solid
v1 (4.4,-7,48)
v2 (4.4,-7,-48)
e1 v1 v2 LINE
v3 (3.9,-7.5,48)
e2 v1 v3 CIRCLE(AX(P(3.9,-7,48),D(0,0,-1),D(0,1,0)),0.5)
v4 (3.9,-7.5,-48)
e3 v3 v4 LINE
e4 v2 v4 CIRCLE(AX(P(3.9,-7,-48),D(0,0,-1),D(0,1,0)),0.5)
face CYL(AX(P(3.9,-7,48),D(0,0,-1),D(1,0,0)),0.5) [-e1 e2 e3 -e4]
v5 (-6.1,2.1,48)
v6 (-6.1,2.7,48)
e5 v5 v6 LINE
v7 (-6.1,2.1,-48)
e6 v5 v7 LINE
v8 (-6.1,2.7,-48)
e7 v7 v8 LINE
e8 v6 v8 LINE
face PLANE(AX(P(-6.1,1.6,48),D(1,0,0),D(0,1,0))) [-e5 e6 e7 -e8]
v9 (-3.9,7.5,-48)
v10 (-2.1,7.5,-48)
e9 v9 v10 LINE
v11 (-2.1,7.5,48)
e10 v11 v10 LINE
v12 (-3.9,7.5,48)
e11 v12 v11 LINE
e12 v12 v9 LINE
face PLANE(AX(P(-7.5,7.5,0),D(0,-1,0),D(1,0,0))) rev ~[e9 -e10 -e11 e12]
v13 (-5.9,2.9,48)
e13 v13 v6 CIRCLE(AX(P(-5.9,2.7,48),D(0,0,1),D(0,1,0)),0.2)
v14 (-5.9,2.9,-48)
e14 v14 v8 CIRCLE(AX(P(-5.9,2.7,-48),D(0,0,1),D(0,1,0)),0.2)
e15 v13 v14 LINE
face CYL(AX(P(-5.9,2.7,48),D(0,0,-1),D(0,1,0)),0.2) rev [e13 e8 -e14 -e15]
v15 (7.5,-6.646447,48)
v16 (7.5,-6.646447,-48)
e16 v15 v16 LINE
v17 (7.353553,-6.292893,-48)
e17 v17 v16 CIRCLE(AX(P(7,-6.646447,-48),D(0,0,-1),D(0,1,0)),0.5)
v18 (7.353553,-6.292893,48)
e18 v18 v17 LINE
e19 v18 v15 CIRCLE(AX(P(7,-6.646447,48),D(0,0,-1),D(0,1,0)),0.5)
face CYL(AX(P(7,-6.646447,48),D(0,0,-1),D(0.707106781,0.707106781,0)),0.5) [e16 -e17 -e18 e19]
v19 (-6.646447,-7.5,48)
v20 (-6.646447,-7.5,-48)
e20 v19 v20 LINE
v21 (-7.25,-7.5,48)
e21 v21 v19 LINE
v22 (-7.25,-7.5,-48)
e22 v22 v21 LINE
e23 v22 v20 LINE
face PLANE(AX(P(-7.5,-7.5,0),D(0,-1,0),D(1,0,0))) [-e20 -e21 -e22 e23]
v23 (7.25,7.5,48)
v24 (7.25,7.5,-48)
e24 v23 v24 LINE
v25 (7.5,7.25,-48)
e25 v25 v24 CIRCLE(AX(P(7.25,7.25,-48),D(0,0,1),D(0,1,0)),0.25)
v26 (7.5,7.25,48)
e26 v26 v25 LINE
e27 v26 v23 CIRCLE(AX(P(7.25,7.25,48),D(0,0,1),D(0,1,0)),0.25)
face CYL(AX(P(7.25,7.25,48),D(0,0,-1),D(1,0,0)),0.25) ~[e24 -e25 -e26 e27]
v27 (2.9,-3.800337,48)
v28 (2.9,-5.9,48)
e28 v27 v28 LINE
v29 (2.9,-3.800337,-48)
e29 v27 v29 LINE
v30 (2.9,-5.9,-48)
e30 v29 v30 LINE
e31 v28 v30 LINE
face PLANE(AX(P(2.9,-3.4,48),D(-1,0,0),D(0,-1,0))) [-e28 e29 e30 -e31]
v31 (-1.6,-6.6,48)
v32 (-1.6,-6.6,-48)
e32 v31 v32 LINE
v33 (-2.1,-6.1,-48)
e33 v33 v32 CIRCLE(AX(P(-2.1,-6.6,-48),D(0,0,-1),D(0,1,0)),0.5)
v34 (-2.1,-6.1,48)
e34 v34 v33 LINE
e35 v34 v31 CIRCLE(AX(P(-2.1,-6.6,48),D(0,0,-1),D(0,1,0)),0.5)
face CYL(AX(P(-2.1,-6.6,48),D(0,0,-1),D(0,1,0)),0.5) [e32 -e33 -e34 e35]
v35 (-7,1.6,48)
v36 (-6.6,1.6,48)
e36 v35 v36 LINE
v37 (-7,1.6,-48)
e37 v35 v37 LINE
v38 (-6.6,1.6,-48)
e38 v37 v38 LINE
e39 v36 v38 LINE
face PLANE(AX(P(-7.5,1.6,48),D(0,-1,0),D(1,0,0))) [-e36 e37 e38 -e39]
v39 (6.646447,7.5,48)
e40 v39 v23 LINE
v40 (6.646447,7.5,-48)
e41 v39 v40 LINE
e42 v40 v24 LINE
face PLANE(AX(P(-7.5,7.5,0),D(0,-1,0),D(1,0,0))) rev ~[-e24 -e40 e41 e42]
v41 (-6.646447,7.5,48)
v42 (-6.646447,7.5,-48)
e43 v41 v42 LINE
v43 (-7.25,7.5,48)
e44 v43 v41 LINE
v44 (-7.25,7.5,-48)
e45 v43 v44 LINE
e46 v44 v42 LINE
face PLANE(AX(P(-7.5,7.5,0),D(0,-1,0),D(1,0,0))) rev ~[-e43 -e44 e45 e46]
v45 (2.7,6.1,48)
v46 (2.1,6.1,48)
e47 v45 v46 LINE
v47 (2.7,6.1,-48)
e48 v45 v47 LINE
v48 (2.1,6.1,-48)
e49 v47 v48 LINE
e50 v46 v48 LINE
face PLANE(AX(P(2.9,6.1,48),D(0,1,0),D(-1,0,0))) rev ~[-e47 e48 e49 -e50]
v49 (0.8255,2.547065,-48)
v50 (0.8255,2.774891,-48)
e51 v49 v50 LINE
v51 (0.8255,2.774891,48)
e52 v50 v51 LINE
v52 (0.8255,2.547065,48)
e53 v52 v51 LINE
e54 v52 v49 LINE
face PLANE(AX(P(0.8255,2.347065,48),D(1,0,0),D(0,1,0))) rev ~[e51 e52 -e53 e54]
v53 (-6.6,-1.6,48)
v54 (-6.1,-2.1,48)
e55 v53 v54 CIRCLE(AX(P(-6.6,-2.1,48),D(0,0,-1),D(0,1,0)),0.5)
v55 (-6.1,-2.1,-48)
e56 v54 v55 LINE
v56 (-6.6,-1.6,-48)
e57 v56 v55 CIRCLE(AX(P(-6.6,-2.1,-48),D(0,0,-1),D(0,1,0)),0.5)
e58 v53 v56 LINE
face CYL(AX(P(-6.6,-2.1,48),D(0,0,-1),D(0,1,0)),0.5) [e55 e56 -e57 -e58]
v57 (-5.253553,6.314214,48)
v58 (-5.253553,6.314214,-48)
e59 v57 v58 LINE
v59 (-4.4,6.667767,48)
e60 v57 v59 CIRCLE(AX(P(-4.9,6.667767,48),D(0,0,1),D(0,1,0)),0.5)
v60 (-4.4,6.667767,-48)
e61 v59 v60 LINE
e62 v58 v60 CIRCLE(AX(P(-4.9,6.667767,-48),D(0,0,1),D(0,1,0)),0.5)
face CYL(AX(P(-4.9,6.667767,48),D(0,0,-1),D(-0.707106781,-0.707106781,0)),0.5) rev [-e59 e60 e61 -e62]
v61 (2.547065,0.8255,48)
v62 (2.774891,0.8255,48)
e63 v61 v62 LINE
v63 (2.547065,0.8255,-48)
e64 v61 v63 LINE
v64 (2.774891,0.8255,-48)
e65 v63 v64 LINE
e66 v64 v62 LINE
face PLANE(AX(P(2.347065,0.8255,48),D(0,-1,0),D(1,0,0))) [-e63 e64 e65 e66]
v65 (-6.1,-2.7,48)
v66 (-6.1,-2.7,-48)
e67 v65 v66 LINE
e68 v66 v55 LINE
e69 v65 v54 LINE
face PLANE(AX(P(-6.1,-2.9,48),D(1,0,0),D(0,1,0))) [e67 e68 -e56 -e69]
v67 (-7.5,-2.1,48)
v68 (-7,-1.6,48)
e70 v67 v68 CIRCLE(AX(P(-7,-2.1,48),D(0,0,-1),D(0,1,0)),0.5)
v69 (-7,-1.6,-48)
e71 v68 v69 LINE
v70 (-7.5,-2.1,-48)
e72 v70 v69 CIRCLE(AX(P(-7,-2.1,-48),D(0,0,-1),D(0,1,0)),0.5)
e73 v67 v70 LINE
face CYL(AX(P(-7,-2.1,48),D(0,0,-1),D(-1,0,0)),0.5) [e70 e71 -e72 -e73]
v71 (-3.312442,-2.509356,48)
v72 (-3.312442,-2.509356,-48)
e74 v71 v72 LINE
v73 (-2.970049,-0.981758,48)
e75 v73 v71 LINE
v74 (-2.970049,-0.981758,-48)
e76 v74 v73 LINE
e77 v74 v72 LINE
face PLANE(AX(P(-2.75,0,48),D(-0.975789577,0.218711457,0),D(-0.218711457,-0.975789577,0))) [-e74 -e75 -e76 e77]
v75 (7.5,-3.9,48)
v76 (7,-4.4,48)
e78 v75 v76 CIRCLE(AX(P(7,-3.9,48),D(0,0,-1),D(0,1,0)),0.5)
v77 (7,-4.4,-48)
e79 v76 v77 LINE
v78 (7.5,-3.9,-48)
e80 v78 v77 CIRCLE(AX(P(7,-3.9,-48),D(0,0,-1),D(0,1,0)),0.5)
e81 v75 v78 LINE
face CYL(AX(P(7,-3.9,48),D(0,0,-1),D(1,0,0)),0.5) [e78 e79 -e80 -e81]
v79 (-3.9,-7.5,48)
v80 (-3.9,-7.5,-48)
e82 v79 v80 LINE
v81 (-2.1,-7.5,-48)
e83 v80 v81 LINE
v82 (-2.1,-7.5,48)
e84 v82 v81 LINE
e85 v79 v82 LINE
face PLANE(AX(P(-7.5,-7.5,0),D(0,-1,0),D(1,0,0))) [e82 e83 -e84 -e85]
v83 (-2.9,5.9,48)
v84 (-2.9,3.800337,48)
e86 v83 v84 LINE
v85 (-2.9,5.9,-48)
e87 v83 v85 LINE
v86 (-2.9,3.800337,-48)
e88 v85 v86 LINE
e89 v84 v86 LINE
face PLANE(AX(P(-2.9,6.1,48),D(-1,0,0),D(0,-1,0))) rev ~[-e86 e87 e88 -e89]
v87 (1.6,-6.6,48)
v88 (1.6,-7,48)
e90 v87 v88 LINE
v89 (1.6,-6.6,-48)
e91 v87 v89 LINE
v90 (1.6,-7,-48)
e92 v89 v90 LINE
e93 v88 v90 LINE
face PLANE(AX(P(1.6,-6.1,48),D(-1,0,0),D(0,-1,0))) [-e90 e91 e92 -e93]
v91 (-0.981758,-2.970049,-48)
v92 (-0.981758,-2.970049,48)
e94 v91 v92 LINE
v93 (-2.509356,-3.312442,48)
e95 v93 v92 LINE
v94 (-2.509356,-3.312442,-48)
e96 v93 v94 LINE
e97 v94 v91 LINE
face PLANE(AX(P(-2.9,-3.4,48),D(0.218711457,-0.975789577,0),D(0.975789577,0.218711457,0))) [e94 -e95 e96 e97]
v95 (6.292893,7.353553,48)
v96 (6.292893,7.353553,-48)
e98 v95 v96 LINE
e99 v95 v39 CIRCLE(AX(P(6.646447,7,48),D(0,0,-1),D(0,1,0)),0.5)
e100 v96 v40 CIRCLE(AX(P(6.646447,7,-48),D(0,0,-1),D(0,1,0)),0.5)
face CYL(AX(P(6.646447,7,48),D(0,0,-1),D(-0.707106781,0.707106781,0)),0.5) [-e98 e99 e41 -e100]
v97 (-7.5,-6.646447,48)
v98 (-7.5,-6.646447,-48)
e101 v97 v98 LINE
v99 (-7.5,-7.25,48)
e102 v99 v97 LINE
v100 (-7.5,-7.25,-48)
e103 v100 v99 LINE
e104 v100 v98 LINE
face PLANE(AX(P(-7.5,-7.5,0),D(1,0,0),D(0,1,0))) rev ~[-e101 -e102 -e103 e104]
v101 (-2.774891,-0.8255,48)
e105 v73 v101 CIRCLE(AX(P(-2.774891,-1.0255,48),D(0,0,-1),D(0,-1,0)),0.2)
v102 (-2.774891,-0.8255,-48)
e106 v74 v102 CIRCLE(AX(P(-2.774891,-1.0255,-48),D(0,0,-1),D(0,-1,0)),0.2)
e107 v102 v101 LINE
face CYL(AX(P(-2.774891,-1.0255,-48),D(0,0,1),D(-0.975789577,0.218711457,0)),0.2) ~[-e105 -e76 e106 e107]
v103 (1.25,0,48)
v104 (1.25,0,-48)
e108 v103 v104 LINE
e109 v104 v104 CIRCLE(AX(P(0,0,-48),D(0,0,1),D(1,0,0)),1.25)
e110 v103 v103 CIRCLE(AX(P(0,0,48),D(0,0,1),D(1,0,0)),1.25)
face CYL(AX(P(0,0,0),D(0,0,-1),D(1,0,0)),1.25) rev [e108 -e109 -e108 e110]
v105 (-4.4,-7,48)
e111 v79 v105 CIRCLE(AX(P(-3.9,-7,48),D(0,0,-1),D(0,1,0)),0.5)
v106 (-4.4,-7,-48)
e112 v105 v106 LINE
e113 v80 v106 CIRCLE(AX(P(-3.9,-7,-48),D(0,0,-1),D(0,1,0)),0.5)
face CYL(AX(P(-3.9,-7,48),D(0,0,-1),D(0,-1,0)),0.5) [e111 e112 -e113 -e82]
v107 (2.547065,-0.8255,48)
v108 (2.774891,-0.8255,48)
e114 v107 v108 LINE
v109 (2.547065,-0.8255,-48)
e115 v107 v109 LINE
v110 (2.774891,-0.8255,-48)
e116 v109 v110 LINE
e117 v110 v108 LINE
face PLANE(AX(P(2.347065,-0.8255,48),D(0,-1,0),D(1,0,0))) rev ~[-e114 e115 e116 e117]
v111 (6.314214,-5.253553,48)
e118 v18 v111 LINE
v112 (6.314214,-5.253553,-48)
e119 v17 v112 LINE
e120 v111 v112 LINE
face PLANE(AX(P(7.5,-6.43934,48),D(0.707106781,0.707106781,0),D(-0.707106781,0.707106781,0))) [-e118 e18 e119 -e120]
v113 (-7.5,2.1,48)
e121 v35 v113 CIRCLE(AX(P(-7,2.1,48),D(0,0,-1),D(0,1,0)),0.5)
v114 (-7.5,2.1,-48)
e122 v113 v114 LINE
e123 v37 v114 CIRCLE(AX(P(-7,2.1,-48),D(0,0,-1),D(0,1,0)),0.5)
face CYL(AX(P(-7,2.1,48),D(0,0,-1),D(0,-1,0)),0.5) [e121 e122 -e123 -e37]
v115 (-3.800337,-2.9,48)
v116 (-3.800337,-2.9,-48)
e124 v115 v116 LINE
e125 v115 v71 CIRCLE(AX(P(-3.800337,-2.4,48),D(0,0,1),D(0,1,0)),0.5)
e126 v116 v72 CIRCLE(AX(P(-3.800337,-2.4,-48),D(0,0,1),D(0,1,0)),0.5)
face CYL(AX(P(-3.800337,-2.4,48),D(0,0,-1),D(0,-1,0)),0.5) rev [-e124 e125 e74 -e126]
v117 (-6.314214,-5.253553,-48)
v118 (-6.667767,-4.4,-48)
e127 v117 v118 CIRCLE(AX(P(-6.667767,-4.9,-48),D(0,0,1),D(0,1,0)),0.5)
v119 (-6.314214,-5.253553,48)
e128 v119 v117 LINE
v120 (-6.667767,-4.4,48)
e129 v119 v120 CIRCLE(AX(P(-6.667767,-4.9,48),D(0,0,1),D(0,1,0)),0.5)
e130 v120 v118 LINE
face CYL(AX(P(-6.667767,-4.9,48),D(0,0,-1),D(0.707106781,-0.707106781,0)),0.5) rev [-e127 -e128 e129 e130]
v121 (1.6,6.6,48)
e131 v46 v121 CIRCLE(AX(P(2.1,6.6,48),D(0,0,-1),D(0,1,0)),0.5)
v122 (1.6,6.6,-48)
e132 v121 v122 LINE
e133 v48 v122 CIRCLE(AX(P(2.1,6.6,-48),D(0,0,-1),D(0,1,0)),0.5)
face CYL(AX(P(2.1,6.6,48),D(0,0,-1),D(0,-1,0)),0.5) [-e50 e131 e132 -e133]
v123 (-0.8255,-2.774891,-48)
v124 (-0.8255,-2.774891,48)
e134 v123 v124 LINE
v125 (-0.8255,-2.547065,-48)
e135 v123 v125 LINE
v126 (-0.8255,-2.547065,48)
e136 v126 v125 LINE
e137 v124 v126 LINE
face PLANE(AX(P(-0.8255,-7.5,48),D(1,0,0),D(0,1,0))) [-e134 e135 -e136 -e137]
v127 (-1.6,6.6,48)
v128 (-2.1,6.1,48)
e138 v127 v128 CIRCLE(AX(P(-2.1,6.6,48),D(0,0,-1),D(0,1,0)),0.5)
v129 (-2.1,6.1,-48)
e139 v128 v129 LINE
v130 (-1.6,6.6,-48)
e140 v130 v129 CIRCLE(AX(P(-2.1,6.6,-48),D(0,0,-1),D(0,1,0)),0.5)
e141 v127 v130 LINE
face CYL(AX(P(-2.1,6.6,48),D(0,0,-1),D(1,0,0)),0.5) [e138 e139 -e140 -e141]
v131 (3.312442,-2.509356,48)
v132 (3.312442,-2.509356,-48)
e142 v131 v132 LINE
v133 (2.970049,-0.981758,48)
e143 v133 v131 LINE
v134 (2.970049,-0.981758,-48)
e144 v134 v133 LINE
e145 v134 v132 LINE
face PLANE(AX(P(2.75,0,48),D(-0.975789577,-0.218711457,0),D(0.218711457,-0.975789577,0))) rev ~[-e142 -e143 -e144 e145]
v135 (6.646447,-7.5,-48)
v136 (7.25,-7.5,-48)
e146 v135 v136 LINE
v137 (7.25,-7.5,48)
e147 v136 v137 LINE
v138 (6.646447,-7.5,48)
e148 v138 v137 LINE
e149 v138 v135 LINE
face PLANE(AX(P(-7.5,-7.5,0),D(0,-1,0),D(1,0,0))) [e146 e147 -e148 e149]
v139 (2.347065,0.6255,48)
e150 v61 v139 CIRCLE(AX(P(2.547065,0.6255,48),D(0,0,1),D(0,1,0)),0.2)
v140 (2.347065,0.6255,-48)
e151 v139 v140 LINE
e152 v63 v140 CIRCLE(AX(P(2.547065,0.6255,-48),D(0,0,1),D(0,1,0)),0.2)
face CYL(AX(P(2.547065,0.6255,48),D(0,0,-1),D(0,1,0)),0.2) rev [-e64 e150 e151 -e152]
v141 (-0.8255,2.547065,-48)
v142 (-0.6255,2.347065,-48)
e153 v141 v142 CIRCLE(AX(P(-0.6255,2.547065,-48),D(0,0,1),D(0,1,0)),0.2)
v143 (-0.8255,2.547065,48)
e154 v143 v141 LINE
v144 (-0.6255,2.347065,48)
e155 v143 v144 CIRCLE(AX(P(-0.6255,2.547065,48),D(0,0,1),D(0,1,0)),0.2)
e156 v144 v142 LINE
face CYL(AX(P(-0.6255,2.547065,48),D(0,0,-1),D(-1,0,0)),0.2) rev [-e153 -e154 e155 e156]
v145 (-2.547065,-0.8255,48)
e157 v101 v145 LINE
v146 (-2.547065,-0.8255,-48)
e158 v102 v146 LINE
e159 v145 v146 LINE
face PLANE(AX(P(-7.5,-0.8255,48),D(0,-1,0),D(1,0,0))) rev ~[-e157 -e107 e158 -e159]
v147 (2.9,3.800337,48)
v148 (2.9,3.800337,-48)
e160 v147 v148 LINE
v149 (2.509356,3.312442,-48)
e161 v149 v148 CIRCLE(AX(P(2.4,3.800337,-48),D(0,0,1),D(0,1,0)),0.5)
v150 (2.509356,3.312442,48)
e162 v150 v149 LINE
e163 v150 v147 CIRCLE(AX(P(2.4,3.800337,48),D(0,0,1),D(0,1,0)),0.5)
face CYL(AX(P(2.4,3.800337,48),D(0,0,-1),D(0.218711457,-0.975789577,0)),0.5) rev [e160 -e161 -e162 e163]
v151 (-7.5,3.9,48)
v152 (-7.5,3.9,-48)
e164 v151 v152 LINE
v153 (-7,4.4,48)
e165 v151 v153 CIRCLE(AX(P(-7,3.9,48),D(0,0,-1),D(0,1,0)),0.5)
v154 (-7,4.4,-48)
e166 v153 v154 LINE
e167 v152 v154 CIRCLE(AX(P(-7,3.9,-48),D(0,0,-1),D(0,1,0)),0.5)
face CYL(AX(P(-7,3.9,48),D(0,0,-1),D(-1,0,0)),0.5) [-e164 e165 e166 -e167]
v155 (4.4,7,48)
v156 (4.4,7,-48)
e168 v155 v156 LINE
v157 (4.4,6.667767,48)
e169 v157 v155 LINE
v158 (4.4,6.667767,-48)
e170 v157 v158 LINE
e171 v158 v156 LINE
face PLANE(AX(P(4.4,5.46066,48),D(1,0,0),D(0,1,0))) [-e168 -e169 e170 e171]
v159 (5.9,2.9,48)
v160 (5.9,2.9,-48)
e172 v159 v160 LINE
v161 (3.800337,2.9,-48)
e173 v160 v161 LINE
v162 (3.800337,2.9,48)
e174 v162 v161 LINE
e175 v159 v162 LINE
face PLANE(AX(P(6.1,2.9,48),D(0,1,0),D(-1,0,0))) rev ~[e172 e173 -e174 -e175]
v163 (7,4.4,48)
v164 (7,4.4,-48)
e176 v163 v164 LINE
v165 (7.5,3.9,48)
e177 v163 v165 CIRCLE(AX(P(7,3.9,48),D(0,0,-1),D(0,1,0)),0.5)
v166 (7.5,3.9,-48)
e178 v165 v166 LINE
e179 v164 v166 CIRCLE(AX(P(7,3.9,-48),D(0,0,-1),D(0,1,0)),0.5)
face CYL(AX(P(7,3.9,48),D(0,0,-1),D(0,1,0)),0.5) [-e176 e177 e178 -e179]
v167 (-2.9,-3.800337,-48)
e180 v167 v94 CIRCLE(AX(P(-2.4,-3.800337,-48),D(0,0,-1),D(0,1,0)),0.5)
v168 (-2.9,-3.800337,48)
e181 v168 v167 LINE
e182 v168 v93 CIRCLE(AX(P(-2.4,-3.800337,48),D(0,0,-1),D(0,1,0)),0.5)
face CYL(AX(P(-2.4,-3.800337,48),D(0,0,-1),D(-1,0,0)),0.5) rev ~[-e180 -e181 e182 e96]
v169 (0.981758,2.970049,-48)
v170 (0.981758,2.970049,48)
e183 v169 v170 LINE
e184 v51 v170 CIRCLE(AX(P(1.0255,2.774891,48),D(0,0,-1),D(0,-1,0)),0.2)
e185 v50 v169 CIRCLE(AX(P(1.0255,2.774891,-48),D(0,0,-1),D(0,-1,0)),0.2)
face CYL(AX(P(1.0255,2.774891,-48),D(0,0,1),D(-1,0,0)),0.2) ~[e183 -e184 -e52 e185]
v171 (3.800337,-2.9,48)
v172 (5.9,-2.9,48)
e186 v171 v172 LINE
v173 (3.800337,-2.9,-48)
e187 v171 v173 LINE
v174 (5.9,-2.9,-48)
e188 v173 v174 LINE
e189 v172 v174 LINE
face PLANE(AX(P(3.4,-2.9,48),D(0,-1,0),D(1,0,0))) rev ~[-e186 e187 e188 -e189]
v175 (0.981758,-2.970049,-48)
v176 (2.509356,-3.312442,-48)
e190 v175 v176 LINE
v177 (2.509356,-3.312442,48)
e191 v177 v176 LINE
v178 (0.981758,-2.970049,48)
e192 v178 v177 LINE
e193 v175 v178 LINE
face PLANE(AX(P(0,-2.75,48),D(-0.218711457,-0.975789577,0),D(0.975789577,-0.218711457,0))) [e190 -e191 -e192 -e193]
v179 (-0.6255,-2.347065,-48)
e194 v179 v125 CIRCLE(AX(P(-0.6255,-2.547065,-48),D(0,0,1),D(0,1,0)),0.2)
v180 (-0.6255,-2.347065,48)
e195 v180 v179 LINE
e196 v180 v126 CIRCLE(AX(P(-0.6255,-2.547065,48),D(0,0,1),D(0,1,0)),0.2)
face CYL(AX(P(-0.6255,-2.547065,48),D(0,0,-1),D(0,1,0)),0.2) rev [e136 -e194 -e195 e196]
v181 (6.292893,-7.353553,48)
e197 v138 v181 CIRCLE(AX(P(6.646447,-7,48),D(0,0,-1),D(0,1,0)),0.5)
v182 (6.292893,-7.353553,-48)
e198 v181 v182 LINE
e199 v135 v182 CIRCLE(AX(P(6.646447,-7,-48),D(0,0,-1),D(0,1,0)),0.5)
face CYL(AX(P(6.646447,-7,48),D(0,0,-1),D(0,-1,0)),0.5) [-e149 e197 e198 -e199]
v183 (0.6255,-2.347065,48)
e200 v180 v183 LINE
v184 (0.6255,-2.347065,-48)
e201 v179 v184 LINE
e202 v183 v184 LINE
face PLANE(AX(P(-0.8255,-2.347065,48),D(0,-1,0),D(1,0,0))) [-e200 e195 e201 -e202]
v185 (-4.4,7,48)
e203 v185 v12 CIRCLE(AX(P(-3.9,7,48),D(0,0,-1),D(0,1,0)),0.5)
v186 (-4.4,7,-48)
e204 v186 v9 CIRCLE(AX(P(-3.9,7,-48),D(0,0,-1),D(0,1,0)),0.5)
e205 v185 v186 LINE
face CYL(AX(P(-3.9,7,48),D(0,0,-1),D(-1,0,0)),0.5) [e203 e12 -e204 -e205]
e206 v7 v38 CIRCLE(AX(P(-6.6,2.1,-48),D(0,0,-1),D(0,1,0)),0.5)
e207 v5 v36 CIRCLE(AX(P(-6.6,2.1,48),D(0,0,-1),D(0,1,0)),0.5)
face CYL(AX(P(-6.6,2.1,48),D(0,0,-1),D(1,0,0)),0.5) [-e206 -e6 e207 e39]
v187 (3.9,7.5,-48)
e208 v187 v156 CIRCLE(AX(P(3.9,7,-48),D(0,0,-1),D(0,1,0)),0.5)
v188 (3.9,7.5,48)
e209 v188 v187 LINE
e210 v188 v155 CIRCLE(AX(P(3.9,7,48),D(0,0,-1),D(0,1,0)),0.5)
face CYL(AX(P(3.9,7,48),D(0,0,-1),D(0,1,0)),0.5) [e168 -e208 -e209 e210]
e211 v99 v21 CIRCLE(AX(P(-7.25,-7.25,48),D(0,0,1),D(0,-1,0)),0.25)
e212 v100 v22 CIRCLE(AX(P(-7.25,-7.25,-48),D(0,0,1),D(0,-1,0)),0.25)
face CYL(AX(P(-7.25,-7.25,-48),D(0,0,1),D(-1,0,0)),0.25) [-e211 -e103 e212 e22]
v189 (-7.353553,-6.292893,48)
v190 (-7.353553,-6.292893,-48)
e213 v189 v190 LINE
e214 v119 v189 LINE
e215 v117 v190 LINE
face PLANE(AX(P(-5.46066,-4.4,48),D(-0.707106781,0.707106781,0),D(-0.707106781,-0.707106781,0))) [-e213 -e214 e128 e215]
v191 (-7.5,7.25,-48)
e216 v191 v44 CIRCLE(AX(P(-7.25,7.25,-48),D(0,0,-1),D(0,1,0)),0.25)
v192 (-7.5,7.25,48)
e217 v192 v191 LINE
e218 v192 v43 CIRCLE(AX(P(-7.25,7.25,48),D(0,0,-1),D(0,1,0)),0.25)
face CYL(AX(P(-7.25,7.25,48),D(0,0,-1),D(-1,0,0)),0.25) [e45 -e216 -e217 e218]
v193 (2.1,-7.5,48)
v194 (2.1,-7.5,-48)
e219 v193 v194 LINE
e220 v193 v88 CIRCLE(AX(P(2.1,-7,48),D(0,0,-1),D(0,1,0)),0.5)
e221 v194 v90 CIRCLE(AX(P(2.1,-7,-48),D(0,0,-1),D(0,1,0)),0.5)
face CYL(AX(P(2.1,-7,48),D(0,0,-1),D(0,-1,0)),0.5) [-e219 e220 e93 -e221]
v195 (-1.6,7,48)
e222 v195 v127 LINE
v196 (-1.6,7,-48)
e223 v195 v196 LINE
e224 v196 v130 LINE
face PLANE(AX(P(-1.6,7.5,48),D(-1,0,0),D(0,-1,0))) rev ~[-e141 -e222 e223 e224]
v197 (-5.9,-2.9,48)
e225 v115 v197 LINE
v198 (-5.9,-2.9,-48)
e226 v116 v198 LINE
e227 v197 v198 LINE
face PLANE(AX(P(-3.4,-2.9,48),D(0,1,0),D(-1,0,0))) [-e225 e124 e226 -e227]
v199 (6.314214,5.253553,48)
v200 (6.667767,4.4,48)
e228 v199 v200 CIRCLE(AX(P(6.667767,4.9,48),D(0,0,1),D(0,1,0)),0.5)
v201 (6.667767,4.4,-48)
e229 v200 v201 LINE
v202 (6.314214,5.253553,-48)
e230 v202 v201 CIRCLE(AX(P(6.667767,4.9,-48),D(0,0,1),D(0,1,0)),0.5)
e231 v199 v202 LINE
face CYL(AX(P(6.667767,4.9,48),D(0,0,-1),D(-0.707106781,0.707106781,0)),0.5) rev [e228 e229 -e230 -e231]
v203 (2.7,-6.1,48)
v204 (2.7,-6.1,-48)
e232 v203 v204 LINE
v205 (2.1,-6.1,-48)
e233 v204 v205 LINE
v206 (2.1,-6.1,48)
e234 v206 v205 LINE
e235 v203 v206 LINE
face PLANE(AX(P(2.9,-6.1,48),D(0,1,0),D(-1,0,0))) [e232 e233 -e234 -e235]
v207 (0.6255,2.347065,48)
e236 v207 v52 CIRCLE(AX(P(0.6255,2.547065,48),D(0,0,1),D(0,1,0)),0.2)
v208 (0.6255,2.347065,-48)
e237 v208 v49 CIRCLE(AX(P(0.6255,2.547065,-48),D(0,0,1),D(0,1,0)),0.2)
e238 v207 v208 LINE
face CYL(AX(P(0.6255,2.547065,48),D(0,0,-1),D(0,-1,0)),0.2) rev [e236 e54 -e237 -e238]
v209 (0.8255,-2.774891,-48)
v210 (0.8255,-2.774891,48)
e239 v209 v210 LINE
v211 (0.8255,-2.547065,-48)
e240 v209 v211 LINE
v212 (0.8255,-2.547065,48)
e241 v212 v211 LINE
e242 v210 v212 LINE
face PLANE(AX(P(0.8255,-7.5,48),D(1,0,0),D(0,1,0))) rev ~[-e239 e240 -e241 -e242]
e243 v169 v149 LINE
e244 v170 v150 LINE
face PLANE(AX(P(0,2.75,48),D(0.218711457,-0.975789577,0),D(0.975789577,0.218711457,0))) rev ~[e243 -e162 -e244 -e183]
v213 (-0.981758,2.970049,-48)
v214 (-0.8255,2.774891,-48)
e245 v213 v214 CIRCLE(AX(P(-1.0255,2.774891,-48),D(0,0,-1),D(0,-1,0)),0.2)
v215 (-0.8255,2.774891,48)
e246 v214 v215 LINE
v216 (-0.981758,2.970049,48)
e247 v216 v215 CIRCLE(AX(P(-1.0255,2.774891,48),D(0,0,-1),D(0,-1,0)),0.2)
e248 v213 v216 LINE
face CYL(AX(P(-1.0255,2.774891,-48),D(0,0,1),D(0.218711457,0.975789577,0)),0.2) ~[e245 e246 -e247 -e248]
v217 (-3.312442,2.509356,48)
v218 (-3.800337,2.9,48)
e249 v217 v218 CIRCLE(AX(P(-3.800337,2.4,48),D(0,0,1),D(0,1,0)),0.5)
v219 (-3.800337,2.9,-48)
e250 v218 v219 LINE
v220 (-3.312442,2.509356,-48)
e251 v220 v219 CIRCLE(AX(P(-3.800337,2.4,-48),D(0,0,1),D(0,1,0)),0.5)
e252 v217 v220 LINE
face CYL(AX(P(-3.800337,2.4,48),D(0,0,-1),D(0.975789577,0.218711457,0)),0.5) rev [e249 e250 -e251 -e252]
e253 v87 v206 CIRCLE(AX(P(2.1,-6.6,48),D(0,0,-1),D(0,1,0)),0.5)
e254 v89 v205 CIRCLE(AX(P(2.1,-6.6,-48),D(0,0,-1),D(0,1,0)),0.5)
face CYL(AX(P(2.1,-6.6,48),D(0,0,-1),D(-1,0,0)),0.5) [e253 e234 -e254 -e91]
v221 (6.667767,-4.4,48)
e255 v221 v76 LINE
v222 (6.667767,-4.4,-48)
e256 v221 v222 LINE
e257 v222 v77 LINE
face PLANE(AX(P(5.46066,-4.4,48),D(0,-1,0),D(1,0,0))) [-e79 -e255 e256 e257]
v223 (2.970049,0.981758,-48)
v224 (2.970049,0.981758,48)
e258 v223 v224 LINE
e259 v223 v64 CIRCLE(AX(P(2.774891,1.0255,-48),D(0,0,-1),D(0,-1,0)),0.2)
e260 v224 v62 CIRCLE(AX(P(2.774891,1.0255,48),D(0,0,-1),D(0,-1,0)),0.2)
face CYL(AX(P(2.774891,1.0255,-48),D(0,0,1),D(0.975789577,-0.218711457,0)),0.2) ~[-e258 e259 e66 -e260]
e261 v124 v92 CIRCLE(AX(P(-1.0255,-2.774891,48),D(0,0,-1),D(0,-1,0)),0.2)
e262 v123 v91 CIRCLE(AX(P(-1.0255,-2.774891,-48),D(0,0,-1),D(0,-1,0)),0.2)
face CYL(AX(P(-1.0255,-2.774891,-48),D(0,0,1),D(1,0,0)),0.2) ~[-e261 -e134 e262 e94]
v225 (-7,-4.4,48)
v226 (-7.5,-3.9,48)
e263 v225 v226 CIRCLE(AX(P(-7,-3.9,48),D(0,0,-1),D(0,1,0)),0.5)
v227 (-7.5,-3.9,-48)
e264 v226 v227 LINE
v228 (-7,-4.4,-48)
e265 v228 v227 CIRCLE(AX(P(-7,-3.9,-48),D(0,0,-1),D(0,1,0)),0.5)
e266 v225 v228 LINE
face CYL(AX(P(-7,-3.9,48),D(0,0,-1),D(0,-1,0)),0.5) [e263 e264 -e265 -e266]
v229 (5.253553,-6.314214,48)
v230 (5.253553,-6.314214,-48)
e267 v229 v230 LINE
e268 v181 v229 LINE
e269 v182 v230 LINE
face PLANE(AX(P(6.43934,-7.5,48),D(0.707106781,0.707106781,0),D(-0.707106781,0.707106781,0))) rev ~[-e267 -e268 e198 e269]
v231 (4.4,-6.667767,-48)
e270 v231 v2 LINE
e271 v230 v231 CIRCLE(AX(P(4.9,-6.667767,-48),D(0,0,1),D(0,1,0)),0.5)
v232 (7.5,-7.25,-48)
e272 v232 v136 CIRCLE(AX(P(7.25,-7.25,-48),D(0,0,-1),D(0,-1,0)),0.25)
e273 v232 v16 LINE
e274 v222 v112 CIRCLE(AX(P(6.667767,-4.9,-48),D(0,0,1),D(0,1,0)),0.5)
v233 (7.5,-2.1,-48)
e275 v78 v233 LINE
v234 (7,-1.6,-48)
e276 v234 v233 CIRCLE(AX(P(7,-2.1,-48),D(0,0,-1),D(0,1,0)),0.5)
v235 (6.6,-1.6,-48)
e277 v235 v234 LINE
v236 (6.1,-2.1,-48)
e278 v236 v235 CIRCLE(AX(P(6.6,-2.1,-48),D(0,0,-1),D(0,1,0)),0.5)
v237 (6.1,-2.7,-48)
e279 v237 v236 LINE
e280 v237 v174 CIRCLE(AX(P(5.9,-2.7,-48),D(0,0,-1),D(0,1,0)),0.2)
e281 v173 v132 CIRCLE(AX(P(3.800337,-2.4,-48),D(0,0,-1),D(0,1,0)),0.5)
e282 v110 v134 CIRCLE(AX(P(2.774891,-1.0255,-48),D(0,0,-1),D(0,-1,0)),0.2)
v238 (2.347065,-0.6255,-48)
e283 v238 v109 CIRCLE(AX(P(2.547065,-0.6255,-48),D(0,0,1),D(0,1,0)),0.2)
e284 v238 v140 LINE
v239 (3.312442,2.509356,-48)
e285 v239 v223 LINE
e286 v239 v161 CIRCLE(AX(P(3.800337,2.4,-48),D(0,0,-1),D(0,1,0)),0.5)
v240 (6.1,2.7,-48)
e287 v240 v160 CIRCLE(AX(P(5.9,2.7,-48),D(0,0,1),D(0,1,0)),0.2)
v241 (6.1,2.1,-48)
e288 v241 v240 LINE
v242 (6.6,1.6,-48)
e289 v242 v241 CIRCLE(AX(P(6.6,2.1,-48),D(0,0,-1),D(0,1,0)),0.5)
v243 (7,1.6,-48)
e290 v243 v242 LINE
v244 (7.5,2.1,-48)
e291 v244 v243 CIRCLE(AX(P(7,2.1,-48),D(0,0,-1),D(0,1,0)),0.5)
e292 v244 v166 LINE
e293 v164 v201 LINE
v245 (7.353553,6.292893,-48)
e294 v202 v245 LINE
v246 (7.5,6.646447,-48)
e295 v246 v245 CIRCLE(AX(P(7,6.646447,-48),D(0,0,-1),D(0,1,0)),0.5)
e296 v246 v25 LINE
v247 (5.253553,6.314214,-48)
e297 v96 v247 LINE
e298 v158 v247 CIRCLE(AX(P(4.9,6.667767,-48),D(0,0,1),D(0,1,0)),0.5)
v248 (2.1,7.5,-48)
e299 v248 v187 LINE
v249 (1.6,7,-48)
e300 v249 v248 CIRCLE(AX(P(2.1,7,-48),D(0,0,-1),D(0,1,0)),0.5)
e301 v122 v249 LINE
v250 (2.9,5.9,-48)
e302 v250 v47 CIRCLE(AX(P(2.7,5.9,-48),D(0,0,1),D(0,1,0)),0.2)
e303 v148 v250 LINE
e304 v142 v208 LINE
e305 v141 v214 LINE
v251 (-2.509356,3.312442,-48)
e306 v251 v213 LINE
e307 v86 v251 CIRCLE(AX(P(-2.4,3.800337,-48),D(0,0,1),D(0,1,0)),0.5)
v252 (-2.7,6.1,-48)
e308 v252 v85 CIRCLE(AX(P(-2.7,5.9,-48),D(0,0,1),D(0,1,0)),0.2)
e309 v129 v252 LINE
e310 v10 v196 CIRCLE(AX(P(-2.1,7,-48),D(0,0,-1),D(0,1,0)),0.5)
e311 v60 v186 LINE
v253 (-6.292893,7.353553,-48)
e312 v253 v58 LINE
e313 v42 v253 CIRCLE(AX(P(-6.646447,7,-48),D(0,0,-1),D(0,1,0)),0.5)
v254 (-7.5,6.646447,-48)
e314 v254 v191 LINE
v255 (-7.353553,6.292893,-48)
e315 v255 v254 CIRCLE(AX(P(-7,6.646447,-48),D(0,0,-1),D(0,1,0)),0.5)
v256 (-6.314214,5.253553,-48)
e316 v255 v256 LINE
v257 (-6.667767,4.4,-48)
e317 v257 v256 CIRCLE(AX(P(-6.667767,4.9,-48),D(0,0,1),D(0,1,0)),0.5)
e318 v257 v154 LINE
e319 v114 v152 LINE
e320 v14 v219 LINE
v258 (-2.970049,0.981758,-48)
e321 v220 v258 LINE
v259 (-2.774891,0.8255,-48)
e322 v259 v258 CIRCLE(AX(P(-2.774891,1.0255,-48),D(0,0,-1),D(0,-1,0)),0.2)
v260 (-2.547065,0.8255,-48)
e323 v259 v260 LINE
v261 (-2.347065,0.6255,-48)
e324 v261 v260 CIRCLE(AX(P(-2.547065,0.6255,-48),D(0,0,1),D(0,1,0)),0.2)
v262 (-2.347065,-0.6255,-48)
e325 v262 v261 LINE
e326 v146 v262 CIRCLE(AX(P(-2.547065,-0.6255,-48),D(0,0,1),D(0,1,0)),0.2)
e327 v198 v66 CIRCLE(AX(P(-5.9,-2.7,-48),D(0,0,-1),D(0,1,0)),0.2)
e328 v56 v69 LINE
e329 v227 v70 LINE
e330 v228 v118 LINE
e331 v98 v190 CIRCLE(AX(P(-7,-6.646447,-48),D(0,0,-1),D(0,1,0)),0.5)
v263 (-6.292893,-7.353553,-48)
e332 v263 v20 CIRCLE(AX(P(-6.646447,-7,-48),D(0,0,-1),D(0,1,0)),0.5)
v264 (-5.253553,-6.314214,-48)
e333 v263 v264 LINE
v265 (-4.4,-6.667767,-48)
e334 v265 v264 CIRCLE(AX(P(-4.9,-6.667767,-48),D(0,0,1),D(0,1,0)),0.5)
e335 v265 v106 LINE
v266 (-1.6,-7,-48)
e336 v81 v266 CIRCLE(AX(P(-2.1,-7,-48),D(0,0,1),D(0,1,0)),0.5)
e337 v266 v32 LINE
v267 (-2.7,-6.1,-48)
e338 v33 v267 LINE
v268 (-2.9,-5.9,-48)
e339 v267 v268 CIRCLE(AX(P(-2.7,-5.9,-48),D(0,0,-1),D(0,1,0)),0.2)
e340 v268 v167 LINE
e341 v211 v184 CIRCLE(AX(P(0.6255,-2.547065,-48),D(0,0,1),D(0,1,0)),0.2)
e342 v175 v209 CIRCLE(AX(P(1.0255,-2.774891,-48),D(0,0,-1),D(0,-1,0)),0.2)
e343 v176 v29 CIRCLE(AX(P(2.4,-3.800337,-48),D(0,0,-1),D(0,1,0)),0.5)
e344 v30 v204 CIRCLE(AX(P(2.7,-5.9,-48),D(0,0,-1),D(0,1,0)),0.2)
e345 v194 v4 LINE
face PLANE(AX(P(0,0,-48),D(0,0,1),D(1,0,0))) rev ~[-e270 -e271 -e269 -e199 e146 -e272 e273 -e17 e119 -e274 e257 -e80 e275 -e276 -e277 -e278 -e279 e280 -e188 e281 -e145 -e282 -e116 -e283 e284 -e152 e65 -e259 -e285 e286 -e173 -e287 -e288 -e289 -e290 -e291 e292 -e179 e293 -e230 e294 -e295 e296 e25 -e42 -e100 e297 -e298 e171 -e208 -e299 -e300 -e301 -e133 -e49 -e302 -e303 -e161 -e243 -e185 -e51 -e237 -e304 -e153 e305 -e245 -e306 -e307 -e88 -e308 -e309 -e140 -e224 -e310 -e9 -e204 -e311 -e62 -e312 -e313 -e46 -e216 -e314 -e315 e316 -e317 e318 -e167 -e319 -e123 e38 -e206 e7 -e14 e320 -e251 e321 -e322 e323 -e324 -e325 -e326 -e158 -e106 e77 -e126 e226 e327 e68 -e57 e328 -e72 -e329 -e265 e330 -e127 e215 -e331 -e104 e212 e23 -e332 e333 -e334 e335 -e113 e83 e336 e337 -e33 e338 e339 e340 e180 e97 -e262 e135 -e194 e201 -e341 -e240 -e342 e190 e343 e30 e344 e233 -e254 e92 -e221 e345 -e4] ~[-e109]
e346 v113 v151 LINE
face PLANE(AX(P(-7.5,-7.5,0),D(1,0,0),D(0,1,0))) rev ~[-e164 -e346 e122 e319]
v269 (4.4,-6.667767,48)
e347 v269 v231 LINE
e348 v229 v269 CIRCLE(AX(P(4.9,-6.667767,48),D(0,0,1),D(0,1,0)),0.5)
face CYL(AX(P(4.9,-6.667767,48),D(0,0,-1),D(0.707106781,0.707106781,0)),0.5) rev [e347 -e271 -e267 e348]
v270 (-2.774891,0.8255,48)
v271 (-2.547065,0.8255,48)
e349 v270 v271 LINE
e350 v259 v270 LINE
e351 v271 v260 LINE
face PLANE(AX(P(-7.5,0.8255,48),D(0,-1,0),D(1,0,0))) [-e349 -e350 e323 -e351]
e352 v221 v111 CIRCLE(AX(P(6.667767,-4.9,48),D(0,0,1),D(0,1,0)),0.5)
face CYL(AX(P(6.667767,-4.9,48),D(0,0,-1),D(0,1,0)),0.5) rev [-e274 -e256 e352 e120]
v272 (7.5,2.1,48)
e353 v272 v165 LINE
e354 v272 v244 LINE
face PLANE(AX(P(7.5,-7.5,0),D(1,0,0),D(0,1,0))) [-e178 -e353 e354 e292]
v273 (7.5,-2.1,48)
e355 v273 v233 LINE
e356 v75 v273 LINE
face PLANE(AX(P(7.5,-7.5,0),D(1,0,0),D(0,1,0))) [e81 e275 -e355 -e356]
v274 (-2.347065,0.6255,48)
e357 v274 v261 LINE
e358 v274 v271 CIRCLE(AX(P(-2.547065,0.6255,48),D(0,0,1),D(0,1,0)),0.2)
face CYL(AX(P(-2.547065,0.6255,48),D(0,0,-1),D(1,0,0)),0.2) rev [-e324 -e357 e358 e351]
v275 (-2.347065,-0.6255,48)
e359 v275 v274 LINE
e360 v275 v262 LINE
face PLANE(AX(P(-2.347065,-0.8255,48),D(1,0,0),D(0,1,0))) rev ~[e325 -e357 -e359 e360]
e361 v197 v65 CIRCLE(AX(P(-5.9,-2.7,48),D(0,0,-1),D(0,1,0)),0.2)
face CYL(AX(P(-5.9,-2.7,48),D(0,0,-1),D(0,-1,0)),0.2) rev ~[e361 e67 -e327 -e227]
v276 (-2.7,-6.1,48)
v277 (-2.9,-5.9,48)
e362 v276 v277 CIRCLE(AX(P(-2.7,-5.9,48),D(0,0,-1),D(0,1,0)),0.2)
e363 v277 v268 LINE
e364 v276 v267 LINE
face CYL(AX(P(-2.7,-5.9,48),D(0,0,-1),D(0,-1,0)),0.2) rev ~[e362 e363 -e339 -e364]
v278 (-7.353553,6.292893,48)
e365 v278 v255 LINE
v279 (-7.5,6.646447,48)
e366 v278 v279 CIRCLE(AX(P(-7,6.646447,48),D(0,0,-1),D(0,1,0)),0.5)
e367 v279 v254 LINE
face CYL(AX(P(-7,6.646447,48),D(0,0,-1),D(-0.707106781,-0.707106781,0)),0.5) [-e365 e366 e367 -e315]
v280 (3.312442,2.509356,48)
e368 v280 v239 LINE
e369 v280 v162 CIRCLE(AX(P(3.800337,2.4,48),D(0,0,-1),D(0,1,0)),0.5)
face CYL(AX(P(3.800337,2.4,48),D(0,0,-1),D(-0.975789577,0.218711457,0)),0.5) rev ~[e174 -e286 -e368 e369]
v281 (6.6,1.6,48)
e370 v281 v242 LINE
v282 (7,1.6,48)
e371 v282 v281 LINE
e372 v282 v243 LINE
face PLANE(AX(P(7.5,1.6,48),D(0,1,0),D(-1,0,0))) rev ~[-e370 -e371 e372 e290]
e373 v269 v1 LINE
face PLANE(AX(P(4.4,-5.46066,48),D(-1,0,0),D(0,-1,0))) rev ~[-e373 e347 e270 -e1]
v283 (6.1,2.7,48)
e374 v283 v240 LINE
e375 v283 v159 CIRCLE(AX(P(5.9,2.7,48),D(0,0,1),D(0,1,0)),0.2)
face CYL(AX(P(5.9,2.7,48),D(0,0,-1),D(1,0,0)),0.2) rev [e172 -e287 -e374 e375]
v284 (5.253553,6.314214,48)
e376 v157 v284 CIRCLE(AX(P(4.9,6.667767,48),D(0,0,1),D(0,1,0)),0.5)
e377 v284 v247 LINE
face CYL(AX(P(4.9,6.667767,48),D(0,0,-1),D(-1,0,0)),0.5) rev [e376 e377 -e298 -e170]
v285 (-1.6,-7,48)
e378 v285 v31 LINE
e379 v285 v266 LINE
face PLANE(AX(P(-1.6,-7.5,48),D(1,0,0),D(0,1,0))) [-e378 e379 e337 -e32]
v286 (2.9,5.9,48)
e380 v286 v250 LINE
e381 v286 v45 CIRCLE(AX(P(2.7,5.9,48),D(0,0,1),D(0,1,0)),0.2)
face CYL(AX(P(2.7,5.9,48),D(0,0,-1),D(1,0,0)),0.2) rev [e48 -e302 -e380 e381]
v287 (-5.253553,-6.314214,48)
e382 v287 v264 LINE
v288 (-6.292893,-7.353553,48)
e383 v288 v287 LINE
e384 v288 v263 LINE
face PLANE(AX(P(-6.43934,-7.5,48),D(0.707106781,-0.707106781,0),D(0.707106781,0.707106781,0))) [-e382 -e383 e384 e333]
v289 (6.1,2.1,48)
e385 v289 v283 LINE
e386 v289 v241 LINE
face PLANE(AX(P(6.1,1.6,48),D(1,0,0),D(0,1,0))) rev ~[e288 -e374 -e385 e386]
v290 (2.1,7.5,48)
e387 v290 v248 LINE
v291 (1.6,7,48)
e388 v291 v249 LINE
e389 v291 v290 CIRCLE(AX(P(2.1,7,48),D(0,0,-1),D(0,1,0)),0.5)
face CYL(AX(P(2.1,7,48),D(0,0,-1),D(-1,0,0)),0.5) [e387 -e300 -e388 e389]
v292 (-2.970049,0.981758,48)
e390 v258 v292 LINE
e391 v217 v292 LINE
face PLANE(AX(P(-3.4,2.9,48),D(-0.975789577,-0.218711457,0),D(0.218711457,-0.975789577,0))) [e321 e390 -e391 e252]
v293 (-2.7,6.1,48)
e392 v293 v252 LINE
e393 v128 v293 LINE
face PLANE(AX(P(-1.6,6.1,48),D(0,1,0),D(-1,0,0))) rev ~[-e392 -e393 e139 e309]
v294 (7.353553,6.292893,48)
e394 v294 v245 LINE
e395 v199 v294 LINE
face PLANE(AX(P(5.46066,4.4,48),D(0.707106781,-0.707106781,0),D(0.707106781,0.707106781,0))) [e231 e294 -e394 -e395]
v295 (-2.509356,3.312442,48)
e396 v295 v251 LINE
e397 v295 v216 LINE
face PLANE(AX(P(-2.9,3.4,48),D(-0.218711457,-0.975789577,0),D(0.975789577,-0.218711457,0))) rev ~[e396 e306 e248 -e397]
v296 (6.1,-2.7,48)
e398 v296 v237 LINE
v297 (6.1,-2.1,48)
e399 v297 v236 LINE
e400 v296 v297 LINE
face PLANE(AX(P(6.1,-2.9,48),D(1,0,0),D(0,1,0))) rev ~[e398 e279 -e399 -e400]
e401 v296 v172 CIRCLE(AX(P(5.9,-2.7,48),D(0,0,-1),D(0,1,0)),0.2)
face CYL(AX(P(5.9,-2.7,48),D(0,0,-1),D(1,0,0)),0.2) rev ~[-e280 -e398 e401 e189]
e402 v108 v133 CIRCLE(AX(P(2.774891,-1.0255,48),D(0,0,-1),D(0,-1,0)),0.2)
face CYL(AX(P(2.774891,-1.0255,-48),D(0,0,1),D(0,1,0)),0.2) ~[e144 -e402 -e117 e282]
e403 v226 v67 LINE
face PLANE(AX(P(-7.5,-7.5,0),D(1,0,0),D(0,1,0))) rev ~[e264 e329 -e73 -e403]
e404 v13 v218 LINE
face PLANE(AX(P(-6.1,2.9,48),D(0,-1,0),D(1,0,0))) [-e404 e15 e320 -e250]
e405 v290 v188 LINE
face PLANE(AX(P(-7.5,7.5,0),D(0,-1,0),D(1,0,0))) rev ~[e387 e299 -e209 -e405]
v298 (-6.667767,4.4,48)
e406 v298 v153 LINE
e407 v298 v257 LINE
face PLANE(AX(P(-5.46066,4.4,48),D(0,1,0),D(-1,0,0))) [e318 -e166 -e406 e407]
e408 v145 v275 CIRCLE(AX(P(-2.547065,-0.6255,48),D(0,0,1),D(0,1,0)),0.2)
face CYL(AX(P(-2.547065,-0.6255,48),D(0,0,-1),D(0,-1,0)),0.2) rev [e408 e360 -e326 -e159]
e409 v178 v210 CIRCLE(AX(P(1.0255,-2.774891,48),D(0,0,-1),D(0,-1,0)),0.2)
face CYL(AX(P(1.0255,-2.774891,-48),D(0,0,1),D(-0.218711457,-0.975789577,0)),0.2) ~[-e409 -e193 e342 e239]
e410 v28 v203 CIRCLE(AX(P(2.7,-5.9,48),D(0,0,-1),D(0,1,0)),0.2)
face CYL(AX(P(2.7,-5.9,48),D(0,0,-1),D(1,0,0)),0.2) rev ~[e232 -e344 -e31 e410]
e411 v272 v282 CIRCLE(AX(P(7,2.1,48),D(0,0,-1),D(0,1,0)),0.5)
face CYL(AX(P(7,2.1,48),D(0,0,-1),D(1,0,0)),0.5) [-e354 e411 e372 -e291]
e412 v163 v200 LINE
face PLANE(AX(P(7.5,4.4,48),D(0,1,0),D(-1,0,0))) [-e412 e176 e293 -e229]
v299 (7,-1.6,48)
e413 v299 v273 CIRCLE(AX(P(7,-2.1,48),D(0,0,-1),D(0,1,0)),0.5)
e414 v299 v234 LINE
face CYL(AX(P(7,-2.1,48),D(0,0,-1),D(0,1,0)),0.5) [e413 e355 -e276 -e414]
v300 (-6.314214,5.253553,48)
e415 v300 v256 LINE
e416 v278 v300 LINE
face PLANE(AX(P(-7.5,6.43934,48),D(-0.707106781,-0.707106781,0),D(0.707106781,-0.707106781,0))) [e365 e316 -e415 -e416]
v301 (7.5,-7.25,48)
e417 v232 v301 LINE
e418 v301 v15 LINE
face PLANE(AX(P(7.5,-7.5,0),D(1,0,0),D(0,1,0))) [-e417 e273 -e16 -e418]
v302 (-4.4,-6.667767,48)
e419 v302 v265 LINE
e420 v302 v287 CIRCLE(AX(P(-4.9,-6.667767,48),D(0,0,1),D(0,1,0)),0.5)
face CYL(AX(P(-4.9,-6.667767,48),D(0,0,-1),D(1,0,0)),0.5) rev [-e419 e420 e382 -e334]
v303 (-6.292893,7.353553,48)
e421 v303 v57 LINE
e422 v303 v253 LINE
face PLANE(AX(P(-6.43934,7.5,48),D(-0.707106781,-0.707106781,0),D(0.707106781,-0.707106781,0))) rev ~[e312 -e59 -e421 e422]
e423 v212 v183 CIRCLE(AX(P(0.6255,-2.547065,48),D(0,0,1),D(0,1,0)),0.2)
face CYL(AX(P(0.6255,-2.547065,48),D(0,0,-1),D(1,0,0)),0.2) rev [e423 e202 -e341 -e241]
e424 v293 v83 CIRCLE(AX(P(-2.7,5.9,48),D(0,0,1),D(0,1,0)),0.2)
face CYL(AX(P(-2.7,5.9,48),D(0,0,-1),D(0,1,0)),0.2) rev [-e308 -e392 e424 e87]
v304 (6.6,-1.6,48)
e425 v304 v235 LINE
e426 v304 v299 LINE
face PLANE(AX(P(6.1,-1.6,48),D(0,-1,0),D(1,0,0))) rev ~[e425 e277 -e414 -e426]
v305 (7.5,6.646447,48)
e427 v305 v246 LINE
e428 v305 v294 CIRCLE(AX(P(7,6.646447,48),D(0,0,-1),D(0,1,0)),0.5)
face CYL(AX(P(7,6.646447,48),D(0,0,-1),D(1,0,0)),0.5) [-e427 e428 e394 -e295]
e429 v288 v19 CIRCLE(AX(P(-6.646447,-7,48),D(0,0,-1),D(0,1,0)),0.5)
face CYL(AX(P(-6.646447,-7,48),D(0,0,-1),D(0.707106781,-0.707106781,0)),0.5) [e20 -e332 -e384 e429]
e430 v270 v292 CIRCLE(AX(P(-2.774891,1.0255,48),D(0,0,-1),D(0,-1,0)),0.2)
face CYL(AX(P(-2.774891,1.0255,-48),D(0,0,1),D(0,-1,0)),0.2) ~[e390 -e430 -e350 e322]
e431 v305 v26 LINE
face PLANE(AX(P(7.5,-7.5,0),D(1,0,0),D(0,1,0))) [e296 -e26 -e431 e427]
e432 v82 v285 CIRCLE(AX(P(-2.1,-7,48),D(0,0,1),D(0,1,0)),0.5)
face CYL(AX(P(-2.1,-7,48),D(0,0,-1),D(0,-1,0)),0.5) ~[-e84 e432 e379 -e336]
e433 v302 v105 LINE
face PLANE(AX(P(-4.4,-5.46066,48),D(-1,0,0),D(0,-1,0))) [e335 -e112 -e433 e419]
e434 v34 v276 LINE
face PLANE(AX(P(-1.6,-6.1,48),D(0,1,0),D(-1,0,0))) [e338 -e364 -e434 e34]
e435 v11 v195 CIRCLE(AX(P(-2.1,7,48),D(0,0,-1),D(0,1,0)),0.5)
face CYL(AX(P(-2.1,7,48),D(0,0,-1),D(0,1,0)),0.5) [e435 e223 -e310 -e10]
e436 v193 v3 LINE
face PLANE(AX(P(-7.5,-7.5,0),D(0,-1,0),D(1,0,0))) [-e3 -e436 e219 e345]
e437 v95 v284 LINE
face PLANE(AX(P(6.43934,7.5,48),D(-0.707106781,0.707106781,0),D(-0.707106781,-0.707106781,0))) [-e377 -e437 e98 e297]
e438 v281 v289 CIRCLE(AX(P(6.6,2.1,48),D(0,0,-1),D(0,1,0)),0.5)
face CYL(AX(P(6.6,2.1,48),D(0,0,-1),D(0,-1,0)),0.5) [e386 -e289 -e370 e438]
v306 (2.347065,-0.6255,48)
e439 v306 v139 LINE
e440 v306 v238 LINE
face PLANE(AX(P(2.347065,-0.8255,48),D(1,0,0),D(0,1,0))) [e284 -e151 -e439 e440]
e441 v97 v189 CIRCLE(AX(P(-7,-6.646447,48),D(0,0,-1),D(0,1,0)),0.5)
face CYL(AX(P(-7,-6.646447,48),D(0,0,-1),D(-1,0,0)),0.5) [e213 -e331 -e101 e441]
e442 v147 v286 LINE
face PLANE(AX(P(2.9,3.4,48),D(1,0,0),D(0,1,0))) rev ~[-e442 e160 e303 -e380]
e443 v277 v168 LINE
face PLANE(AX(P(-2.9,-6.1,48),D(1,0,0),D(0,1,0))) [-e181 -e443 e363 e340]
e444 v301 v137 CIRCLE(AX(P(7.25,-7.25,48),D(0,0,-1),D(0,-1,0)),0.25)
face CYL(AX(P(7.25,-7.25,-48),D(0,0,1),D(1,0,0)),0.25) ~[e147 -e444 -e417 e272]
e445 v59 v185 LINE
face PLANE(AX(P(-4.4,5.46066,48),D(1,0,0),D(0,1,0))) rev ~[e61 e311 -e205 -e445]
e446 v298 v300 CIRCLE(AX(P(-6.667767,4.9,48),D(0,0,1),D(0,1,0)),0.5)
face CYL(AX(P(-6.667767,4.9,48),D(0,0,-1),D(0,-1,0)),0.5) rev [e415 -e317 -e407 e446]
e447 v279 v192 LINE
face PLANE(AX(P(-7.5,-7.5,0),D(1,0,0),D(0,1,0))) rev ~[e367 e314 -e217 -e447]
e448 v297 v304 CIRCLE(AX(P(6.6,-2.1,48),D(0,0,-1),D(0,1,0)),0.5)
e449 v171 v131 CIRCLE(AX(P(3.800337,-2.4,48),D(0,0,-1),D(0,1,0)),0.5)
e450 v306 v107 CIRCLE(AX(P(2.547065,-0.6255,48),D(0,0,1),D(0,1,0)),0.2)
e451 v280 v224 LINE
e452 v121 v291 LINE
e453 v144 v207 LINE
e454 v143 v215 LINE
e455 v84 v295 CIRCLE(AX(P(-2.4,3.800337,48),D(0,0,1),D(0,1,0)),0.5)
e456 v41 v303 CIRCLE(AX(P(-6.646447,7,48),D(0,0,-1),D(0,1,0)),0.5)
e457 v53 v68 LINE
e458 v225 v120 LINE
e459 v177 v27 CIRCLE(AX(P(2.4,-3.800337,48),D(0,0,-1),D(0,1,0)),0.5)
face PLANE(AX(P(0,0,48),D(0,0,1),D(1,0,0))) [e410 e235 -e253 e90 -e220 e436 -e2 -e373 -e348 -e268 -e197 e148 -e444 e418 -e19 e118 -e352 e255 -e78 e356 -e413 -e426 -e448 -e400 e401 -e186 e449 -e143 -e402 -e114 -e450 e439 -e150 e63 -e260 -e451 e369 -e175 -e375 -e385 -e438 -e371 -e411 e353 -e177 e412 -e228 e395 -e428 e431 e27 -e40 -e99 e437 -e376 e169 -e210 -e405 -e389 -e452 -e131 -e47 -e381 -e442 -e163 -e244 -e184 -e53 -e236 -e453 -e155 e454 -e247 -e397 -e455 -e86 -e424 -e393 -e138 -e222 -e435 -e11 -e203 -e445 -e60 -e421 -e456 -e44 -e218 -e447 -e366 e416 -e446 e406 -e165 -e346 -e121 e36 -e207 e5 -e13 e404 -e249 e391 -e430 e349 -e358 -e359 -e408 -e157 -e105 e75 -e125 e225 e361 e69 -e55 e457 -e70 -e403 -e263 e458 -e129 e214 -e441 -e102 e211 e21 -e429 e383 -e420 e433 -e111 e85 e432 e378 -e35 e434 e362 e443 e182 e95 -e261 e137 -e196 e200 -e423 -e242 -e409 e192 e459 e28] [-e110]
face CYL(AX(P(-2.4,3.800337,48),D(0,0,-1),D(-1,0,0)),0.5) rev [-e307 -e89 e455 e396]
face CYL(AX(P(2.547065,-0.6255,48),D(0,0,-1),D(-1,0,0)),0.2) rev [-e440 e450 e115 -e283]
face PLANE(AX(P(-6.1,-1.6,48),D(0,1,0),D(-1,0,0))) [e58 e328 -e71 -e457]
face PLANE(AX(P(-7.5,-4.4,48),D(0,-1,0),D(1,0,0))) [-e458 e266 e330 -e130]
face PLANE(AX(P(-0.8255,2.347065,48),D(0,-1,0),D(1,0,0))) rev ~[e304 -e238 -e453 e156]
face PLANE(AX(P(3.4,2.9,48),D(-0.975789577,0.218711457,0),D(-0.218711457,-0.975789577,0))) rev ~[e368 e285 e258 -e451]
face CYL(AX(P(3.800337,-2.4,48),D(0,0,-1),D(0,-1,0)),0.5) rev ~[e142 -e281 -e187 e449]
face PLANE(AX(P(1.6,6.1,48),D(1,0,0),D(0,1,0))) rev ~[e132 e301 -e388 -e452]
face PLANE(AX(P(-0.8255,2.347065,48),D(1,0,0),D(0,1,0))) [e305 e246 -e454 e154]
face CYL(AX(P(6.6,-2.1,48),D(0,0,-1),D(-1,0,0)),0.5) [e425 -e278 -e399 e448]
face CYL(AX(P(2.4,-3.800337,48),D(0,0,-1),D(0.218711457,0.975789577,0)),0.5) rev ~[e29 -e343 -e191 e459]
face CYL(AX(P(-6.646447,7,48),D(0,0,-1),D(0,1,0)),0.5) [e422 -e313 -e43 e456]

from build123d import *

# Parameters (mm, degrees)
SKETCH1_W           = 15
SKETCH1_H           = 15
SKETCH1_R           = 1.25
BOSS_EXTRUDE1_DEPTH = 48
FILLET1_R           = 0.25
CUT_EXTRUDE1_DEPTH  = 97.584160192
CUT_EXTRUDE3_DEPTH  = 97.584160192
FILLET3_R           = 0.5
FILLET4_R           = 0.5
FILLET5_R           = 3
FILLET6_R           = 0.2
CUT_EXTRUDE4_DEPTH  = 97.584160192
FILLET8_R           = 0.5
SKETCH6_W           = 5.1529354
SKETCH6_H           = 1.651
SKETCH6_W_2         = 1.651
SKETCH6_H_2         = 5.1529354
CUT_EXTRUDE5_DEPTH  = 97.584160192
FILLET10_R          = 0.2


with BuildPart() as part:
    # Sketch1 → Boss-Extrude1 (new, symmetric)
    with BuildSketch(Plane.XY):
        Rectangle(SKETCH1_W, SKETCH1_H)
        Circle(SKETCH1_R, mode=Mode.SUBTRACT)
    extrude(amount=BOSS_EXTRUDE1_DEPTH, both=True)

    # Fillet1
    fillet1_edges = [part.edges().sort_by_distance(p)[0] for p in [
        (7.5, -7.5, 0),
        (-7.5, -7.5, 0),
        (-7.5, 7.5, 0),
        (7.5, 7.5, 0),
    ]]
    fillet(fillet1_edges, radius=FILLET1_R)

    # Sketch2 → Cut-Extrude1 (cut, through all)
    with BuildSketch(Plane.XY.offset(48)):
        Polygon((-7.5, 1.6), (-6.1, 1.6), (-6.1, 2.9), (-3.4, 2.9), (-3.4, -2.9), (-6.1, -2.9), (-6.1, -1.6), (-7.5, -1.6), align=None)
        Polygon((2.9, 6.1), (1.6, 6.1), (1.6, 7.5), (-1.6, 7.5), (-1.6, 6.1), (-2.9, 6.1), (-2.9, 3.4), (2.9, 3.4), align=None)
        Polygon((-1.6, -7.5), (-1.6, -6.1), (-2.9, -6.1), (-2.9, -3.4), (2.9, -3.4), (2.9, -6.1), (1.6, -6.1), (1.6, -7.5), align=None)
        Polygon((6.1, -2.9), (6.1, -1.6), (7.5, -1.6), (7.5, 1.6), (6.1, 1.6), (6.1, 2.9), (3.4, 2.9), (3.4, -2.9), align=None)
    extrude(amount=-CUT_EXTRUDE1_DEPTH, mode=Mode.SUBTRACT)

    # Sketch4 → Cut-Extrude3 (cut, through all)
    with BuildSketch(Plane.XY.offset(48)):
        Polygon((-3.4, 2.9), (-2.75, 0), (-3.4, -2.9), align=None)
        Polygon((-2.9, 3.4), (0, 2.75), (2.9, 3.4), align=None)
        Polygon((3.4, 2.9), (2.75, 0), (3.4, -2.9), align=None)
        Polygon((-2.9, -3.4), (0, -2.75), (2.9, -3.4), align=None)
    extrude(amount=-CUT_EXTRUDE3_DEPTH, mode=Mode.SUBTRACT)

    # Fillet3
    fillet3_edges = [part.edges().sort_by_distance(p)[0] for p in [
        (1.6, -7.5, 0),
        (-1.6, -7.5, 0),
        (-1.6, -6.1, 0),
        (1.6, -6.1, 0),
        (6.1, 1.6, 0),
        (7.5, 1.6, 0),
        (7.5, -1.6, 0),
        (6.1, -1.6, 0),
        (-7.5, -1.6, 0),
        (-7.5, 1.6, 0),
        (-6.1, 1.6, 0),
        (-6.1, -1.6, 0),
        (-1.6, 6.1, 0),
        (-1.6, 7.5, 0),
        (1.6, 7.5, 0),
        (1.6, 6.1, 0),
    ]]
    fillet(fillet3_edges, radius=FILLET3_R)

    # Fillet4
    fillet4_edges = [part.edges().sort_by_distance(p)[0] for p in [
        (-2.9, -3.4, 0),
        (2.9, -3.4, 0),
        (3.4, -2.9, 0),
        (3.4, 2.9, 0),
        (-3.4, 2.9, 0),
        (-3.4, -2.9, 0),
        (2.9, 3.4, 0),
        (-2.9, 3.4, 0),
    ]]
    fillet(fillet4_edges, radius=FILLET4_R)

    # Fillet5
    fillet5_edges = [part.edges().sort_by_distance(p)[0] for p in [
        (-2.75, 0, 0),
        (0, 2.75, 0),
        (2.75, 0, 0),
        (0, -2.75, 0),
    ]]
    fillet(fillet5_edges, radius=FILLET5_R)

    # Fillet6
    fillet6_edges = [part.edges().sort_by_distance(p)[0] for p in [
        (-2.9, -6.1, 0),
        (2.9, -6.1, 0),
        (6.1, -2.9, 0),
        (6.1, 2.9, 0),
        (-6.1, 2.9, 0),
        (-6.1, -2.9, 0),
        (2.9, 6.1, 0),
        (-2.9, 6.1, 0),
    ]]
    fillet(fillet6_edges, radius=FILLET6_R)

    # Sketch5 → Cut-Extrude4 (cut, through all)
    with BuildSketch(Plane.XY.offset(48)):
        Polygon((-7.5, 6.439339828), (-5.460660172, 4.4), (-7.5, 4.4), align=None)
        Polygon((-6.439339828, 7.5), (-4.4, 5.460660172), (-4.4, 7.5), align=None)
        Polygon((4.4, 7.5), (6.439339828, 7.5), (4.4, 5.460660172), align=None)
        Polygon((7.5, 6.439339828), (7.5, 4.4), (5.460660172, 4.4), align=None)
        Polygon((7.5, -6.439339828), (5.460660172, -4.4), (7.5, -4.4), align=None)
        Polygon((6.439339828, -7.5), (4.4, -5.460660172), (4.4, -7.5), align=None)
        Polygon((-4.4, -7.5), (-6.439339828, -7.5), (-4.4, -5.460660172), align=None)
        Polygon((-7.5, -6.439339828), (-7.5, -4.4), (-5.460660172, -4.4), align=None)
    extrude(amount=-CUT_EXTRUDE4_DEPTH, mode=Mode.SUBTRACT)

    # Fillet8
    fillet8_edges = [part.edges().sort_by_distance(p)[0] for p in [
        (-7.5, 4.4, 0),
        (-7.5, 6.439339828, 0),
        (-5.460660172, 4.4, 0),
        (7.5, -4.4, 0),
        (7.5, -6.439339828, 0),
        (5.460660172, -4.4, 0),
        (5.460660172, 4.4, 0),
        (7.5, 6.439339828, 0),
        (7.5, 4.4, 0),
        (-4.4, 7.5, 0),
        (-4.4, 5.460660172, 0),
        (-6.439339828, 7.5, 0),
        (-5.460660172, -4.4, 0),
        (-7.5, -6.439339828, 0),
        (-7.5, -4.4, 0),
        (4.4, 5.460660172, 0),
        (4.4, 7.5, 0),
        (6.439339828, 7.5, 0),
        (6.439339828, -7.5, 0),
        (4.4, -7.5, 0),
        (4.4, -5.460660172, 0),
        (-6.439339828, -7.5, 0),
        (-4.4, -5.460660172, 0),
        (-4.4, -7.5, 0),
    ]]
    fillet(fillet8_edges, radius=FILLET8_R)

    # Sketch6 → Cut-Extrude5 (cut, through all)
    with BuildSketch(Plane.XY.offset(48)):
        with Locations((4.9235323, 0)):
            Rectangle(SKETCH6_W, SKETCH6_H)
        with Locations((0, -4.9235323)):
            Rectangle(SKETCH6_W_2, SKETCH6_H_2)
        with Locations((-4.9235323, 0)):
            Rectangle(SKETCH6_W, SKETCH6_H)
        with Locations((0, 4.9235323)):
            Rectangle(SKETCH6_W_2, SKETCH6_H_2)
    extrude(amount=-CUT_EXTRUDE5_DEPTH, mode=Mode.SUBTRACT)

    # Fillet10
    fillet10_edges = [part.edges().sort_by_distance(p)[0] for p in [
        (0.8255, -2.935025862, 0),
        (-0.8255, -2.935025862, 0),
        (0.8255, -2.3470646, 0),
        (-0.8255, -2.3470646, 0),
        (2.935025862, 0.8255, 0),
        (2.935025862, -0.8255, 0),
        (2.3470646, 0.8255, 0),
        (2.3470646, -0.8255, 0),
        (-2.935025862, -0.8255, 0),
        (-2.935025862, 0.8255, 0),
        (-2.3470646, -0.8255, 0),
        (-2.3470646, 0.8255, 0),
        (-0.8255, 2.935025862, 0),
        (0.8255, 2.935025862, 0),
        (-0.8255, 2.3470646, 0),
        (0.8255, 2.3470646, 0),
    ]]
    fillet(fillet10_edges, radius=FILLET10_R)


solid = part.part
